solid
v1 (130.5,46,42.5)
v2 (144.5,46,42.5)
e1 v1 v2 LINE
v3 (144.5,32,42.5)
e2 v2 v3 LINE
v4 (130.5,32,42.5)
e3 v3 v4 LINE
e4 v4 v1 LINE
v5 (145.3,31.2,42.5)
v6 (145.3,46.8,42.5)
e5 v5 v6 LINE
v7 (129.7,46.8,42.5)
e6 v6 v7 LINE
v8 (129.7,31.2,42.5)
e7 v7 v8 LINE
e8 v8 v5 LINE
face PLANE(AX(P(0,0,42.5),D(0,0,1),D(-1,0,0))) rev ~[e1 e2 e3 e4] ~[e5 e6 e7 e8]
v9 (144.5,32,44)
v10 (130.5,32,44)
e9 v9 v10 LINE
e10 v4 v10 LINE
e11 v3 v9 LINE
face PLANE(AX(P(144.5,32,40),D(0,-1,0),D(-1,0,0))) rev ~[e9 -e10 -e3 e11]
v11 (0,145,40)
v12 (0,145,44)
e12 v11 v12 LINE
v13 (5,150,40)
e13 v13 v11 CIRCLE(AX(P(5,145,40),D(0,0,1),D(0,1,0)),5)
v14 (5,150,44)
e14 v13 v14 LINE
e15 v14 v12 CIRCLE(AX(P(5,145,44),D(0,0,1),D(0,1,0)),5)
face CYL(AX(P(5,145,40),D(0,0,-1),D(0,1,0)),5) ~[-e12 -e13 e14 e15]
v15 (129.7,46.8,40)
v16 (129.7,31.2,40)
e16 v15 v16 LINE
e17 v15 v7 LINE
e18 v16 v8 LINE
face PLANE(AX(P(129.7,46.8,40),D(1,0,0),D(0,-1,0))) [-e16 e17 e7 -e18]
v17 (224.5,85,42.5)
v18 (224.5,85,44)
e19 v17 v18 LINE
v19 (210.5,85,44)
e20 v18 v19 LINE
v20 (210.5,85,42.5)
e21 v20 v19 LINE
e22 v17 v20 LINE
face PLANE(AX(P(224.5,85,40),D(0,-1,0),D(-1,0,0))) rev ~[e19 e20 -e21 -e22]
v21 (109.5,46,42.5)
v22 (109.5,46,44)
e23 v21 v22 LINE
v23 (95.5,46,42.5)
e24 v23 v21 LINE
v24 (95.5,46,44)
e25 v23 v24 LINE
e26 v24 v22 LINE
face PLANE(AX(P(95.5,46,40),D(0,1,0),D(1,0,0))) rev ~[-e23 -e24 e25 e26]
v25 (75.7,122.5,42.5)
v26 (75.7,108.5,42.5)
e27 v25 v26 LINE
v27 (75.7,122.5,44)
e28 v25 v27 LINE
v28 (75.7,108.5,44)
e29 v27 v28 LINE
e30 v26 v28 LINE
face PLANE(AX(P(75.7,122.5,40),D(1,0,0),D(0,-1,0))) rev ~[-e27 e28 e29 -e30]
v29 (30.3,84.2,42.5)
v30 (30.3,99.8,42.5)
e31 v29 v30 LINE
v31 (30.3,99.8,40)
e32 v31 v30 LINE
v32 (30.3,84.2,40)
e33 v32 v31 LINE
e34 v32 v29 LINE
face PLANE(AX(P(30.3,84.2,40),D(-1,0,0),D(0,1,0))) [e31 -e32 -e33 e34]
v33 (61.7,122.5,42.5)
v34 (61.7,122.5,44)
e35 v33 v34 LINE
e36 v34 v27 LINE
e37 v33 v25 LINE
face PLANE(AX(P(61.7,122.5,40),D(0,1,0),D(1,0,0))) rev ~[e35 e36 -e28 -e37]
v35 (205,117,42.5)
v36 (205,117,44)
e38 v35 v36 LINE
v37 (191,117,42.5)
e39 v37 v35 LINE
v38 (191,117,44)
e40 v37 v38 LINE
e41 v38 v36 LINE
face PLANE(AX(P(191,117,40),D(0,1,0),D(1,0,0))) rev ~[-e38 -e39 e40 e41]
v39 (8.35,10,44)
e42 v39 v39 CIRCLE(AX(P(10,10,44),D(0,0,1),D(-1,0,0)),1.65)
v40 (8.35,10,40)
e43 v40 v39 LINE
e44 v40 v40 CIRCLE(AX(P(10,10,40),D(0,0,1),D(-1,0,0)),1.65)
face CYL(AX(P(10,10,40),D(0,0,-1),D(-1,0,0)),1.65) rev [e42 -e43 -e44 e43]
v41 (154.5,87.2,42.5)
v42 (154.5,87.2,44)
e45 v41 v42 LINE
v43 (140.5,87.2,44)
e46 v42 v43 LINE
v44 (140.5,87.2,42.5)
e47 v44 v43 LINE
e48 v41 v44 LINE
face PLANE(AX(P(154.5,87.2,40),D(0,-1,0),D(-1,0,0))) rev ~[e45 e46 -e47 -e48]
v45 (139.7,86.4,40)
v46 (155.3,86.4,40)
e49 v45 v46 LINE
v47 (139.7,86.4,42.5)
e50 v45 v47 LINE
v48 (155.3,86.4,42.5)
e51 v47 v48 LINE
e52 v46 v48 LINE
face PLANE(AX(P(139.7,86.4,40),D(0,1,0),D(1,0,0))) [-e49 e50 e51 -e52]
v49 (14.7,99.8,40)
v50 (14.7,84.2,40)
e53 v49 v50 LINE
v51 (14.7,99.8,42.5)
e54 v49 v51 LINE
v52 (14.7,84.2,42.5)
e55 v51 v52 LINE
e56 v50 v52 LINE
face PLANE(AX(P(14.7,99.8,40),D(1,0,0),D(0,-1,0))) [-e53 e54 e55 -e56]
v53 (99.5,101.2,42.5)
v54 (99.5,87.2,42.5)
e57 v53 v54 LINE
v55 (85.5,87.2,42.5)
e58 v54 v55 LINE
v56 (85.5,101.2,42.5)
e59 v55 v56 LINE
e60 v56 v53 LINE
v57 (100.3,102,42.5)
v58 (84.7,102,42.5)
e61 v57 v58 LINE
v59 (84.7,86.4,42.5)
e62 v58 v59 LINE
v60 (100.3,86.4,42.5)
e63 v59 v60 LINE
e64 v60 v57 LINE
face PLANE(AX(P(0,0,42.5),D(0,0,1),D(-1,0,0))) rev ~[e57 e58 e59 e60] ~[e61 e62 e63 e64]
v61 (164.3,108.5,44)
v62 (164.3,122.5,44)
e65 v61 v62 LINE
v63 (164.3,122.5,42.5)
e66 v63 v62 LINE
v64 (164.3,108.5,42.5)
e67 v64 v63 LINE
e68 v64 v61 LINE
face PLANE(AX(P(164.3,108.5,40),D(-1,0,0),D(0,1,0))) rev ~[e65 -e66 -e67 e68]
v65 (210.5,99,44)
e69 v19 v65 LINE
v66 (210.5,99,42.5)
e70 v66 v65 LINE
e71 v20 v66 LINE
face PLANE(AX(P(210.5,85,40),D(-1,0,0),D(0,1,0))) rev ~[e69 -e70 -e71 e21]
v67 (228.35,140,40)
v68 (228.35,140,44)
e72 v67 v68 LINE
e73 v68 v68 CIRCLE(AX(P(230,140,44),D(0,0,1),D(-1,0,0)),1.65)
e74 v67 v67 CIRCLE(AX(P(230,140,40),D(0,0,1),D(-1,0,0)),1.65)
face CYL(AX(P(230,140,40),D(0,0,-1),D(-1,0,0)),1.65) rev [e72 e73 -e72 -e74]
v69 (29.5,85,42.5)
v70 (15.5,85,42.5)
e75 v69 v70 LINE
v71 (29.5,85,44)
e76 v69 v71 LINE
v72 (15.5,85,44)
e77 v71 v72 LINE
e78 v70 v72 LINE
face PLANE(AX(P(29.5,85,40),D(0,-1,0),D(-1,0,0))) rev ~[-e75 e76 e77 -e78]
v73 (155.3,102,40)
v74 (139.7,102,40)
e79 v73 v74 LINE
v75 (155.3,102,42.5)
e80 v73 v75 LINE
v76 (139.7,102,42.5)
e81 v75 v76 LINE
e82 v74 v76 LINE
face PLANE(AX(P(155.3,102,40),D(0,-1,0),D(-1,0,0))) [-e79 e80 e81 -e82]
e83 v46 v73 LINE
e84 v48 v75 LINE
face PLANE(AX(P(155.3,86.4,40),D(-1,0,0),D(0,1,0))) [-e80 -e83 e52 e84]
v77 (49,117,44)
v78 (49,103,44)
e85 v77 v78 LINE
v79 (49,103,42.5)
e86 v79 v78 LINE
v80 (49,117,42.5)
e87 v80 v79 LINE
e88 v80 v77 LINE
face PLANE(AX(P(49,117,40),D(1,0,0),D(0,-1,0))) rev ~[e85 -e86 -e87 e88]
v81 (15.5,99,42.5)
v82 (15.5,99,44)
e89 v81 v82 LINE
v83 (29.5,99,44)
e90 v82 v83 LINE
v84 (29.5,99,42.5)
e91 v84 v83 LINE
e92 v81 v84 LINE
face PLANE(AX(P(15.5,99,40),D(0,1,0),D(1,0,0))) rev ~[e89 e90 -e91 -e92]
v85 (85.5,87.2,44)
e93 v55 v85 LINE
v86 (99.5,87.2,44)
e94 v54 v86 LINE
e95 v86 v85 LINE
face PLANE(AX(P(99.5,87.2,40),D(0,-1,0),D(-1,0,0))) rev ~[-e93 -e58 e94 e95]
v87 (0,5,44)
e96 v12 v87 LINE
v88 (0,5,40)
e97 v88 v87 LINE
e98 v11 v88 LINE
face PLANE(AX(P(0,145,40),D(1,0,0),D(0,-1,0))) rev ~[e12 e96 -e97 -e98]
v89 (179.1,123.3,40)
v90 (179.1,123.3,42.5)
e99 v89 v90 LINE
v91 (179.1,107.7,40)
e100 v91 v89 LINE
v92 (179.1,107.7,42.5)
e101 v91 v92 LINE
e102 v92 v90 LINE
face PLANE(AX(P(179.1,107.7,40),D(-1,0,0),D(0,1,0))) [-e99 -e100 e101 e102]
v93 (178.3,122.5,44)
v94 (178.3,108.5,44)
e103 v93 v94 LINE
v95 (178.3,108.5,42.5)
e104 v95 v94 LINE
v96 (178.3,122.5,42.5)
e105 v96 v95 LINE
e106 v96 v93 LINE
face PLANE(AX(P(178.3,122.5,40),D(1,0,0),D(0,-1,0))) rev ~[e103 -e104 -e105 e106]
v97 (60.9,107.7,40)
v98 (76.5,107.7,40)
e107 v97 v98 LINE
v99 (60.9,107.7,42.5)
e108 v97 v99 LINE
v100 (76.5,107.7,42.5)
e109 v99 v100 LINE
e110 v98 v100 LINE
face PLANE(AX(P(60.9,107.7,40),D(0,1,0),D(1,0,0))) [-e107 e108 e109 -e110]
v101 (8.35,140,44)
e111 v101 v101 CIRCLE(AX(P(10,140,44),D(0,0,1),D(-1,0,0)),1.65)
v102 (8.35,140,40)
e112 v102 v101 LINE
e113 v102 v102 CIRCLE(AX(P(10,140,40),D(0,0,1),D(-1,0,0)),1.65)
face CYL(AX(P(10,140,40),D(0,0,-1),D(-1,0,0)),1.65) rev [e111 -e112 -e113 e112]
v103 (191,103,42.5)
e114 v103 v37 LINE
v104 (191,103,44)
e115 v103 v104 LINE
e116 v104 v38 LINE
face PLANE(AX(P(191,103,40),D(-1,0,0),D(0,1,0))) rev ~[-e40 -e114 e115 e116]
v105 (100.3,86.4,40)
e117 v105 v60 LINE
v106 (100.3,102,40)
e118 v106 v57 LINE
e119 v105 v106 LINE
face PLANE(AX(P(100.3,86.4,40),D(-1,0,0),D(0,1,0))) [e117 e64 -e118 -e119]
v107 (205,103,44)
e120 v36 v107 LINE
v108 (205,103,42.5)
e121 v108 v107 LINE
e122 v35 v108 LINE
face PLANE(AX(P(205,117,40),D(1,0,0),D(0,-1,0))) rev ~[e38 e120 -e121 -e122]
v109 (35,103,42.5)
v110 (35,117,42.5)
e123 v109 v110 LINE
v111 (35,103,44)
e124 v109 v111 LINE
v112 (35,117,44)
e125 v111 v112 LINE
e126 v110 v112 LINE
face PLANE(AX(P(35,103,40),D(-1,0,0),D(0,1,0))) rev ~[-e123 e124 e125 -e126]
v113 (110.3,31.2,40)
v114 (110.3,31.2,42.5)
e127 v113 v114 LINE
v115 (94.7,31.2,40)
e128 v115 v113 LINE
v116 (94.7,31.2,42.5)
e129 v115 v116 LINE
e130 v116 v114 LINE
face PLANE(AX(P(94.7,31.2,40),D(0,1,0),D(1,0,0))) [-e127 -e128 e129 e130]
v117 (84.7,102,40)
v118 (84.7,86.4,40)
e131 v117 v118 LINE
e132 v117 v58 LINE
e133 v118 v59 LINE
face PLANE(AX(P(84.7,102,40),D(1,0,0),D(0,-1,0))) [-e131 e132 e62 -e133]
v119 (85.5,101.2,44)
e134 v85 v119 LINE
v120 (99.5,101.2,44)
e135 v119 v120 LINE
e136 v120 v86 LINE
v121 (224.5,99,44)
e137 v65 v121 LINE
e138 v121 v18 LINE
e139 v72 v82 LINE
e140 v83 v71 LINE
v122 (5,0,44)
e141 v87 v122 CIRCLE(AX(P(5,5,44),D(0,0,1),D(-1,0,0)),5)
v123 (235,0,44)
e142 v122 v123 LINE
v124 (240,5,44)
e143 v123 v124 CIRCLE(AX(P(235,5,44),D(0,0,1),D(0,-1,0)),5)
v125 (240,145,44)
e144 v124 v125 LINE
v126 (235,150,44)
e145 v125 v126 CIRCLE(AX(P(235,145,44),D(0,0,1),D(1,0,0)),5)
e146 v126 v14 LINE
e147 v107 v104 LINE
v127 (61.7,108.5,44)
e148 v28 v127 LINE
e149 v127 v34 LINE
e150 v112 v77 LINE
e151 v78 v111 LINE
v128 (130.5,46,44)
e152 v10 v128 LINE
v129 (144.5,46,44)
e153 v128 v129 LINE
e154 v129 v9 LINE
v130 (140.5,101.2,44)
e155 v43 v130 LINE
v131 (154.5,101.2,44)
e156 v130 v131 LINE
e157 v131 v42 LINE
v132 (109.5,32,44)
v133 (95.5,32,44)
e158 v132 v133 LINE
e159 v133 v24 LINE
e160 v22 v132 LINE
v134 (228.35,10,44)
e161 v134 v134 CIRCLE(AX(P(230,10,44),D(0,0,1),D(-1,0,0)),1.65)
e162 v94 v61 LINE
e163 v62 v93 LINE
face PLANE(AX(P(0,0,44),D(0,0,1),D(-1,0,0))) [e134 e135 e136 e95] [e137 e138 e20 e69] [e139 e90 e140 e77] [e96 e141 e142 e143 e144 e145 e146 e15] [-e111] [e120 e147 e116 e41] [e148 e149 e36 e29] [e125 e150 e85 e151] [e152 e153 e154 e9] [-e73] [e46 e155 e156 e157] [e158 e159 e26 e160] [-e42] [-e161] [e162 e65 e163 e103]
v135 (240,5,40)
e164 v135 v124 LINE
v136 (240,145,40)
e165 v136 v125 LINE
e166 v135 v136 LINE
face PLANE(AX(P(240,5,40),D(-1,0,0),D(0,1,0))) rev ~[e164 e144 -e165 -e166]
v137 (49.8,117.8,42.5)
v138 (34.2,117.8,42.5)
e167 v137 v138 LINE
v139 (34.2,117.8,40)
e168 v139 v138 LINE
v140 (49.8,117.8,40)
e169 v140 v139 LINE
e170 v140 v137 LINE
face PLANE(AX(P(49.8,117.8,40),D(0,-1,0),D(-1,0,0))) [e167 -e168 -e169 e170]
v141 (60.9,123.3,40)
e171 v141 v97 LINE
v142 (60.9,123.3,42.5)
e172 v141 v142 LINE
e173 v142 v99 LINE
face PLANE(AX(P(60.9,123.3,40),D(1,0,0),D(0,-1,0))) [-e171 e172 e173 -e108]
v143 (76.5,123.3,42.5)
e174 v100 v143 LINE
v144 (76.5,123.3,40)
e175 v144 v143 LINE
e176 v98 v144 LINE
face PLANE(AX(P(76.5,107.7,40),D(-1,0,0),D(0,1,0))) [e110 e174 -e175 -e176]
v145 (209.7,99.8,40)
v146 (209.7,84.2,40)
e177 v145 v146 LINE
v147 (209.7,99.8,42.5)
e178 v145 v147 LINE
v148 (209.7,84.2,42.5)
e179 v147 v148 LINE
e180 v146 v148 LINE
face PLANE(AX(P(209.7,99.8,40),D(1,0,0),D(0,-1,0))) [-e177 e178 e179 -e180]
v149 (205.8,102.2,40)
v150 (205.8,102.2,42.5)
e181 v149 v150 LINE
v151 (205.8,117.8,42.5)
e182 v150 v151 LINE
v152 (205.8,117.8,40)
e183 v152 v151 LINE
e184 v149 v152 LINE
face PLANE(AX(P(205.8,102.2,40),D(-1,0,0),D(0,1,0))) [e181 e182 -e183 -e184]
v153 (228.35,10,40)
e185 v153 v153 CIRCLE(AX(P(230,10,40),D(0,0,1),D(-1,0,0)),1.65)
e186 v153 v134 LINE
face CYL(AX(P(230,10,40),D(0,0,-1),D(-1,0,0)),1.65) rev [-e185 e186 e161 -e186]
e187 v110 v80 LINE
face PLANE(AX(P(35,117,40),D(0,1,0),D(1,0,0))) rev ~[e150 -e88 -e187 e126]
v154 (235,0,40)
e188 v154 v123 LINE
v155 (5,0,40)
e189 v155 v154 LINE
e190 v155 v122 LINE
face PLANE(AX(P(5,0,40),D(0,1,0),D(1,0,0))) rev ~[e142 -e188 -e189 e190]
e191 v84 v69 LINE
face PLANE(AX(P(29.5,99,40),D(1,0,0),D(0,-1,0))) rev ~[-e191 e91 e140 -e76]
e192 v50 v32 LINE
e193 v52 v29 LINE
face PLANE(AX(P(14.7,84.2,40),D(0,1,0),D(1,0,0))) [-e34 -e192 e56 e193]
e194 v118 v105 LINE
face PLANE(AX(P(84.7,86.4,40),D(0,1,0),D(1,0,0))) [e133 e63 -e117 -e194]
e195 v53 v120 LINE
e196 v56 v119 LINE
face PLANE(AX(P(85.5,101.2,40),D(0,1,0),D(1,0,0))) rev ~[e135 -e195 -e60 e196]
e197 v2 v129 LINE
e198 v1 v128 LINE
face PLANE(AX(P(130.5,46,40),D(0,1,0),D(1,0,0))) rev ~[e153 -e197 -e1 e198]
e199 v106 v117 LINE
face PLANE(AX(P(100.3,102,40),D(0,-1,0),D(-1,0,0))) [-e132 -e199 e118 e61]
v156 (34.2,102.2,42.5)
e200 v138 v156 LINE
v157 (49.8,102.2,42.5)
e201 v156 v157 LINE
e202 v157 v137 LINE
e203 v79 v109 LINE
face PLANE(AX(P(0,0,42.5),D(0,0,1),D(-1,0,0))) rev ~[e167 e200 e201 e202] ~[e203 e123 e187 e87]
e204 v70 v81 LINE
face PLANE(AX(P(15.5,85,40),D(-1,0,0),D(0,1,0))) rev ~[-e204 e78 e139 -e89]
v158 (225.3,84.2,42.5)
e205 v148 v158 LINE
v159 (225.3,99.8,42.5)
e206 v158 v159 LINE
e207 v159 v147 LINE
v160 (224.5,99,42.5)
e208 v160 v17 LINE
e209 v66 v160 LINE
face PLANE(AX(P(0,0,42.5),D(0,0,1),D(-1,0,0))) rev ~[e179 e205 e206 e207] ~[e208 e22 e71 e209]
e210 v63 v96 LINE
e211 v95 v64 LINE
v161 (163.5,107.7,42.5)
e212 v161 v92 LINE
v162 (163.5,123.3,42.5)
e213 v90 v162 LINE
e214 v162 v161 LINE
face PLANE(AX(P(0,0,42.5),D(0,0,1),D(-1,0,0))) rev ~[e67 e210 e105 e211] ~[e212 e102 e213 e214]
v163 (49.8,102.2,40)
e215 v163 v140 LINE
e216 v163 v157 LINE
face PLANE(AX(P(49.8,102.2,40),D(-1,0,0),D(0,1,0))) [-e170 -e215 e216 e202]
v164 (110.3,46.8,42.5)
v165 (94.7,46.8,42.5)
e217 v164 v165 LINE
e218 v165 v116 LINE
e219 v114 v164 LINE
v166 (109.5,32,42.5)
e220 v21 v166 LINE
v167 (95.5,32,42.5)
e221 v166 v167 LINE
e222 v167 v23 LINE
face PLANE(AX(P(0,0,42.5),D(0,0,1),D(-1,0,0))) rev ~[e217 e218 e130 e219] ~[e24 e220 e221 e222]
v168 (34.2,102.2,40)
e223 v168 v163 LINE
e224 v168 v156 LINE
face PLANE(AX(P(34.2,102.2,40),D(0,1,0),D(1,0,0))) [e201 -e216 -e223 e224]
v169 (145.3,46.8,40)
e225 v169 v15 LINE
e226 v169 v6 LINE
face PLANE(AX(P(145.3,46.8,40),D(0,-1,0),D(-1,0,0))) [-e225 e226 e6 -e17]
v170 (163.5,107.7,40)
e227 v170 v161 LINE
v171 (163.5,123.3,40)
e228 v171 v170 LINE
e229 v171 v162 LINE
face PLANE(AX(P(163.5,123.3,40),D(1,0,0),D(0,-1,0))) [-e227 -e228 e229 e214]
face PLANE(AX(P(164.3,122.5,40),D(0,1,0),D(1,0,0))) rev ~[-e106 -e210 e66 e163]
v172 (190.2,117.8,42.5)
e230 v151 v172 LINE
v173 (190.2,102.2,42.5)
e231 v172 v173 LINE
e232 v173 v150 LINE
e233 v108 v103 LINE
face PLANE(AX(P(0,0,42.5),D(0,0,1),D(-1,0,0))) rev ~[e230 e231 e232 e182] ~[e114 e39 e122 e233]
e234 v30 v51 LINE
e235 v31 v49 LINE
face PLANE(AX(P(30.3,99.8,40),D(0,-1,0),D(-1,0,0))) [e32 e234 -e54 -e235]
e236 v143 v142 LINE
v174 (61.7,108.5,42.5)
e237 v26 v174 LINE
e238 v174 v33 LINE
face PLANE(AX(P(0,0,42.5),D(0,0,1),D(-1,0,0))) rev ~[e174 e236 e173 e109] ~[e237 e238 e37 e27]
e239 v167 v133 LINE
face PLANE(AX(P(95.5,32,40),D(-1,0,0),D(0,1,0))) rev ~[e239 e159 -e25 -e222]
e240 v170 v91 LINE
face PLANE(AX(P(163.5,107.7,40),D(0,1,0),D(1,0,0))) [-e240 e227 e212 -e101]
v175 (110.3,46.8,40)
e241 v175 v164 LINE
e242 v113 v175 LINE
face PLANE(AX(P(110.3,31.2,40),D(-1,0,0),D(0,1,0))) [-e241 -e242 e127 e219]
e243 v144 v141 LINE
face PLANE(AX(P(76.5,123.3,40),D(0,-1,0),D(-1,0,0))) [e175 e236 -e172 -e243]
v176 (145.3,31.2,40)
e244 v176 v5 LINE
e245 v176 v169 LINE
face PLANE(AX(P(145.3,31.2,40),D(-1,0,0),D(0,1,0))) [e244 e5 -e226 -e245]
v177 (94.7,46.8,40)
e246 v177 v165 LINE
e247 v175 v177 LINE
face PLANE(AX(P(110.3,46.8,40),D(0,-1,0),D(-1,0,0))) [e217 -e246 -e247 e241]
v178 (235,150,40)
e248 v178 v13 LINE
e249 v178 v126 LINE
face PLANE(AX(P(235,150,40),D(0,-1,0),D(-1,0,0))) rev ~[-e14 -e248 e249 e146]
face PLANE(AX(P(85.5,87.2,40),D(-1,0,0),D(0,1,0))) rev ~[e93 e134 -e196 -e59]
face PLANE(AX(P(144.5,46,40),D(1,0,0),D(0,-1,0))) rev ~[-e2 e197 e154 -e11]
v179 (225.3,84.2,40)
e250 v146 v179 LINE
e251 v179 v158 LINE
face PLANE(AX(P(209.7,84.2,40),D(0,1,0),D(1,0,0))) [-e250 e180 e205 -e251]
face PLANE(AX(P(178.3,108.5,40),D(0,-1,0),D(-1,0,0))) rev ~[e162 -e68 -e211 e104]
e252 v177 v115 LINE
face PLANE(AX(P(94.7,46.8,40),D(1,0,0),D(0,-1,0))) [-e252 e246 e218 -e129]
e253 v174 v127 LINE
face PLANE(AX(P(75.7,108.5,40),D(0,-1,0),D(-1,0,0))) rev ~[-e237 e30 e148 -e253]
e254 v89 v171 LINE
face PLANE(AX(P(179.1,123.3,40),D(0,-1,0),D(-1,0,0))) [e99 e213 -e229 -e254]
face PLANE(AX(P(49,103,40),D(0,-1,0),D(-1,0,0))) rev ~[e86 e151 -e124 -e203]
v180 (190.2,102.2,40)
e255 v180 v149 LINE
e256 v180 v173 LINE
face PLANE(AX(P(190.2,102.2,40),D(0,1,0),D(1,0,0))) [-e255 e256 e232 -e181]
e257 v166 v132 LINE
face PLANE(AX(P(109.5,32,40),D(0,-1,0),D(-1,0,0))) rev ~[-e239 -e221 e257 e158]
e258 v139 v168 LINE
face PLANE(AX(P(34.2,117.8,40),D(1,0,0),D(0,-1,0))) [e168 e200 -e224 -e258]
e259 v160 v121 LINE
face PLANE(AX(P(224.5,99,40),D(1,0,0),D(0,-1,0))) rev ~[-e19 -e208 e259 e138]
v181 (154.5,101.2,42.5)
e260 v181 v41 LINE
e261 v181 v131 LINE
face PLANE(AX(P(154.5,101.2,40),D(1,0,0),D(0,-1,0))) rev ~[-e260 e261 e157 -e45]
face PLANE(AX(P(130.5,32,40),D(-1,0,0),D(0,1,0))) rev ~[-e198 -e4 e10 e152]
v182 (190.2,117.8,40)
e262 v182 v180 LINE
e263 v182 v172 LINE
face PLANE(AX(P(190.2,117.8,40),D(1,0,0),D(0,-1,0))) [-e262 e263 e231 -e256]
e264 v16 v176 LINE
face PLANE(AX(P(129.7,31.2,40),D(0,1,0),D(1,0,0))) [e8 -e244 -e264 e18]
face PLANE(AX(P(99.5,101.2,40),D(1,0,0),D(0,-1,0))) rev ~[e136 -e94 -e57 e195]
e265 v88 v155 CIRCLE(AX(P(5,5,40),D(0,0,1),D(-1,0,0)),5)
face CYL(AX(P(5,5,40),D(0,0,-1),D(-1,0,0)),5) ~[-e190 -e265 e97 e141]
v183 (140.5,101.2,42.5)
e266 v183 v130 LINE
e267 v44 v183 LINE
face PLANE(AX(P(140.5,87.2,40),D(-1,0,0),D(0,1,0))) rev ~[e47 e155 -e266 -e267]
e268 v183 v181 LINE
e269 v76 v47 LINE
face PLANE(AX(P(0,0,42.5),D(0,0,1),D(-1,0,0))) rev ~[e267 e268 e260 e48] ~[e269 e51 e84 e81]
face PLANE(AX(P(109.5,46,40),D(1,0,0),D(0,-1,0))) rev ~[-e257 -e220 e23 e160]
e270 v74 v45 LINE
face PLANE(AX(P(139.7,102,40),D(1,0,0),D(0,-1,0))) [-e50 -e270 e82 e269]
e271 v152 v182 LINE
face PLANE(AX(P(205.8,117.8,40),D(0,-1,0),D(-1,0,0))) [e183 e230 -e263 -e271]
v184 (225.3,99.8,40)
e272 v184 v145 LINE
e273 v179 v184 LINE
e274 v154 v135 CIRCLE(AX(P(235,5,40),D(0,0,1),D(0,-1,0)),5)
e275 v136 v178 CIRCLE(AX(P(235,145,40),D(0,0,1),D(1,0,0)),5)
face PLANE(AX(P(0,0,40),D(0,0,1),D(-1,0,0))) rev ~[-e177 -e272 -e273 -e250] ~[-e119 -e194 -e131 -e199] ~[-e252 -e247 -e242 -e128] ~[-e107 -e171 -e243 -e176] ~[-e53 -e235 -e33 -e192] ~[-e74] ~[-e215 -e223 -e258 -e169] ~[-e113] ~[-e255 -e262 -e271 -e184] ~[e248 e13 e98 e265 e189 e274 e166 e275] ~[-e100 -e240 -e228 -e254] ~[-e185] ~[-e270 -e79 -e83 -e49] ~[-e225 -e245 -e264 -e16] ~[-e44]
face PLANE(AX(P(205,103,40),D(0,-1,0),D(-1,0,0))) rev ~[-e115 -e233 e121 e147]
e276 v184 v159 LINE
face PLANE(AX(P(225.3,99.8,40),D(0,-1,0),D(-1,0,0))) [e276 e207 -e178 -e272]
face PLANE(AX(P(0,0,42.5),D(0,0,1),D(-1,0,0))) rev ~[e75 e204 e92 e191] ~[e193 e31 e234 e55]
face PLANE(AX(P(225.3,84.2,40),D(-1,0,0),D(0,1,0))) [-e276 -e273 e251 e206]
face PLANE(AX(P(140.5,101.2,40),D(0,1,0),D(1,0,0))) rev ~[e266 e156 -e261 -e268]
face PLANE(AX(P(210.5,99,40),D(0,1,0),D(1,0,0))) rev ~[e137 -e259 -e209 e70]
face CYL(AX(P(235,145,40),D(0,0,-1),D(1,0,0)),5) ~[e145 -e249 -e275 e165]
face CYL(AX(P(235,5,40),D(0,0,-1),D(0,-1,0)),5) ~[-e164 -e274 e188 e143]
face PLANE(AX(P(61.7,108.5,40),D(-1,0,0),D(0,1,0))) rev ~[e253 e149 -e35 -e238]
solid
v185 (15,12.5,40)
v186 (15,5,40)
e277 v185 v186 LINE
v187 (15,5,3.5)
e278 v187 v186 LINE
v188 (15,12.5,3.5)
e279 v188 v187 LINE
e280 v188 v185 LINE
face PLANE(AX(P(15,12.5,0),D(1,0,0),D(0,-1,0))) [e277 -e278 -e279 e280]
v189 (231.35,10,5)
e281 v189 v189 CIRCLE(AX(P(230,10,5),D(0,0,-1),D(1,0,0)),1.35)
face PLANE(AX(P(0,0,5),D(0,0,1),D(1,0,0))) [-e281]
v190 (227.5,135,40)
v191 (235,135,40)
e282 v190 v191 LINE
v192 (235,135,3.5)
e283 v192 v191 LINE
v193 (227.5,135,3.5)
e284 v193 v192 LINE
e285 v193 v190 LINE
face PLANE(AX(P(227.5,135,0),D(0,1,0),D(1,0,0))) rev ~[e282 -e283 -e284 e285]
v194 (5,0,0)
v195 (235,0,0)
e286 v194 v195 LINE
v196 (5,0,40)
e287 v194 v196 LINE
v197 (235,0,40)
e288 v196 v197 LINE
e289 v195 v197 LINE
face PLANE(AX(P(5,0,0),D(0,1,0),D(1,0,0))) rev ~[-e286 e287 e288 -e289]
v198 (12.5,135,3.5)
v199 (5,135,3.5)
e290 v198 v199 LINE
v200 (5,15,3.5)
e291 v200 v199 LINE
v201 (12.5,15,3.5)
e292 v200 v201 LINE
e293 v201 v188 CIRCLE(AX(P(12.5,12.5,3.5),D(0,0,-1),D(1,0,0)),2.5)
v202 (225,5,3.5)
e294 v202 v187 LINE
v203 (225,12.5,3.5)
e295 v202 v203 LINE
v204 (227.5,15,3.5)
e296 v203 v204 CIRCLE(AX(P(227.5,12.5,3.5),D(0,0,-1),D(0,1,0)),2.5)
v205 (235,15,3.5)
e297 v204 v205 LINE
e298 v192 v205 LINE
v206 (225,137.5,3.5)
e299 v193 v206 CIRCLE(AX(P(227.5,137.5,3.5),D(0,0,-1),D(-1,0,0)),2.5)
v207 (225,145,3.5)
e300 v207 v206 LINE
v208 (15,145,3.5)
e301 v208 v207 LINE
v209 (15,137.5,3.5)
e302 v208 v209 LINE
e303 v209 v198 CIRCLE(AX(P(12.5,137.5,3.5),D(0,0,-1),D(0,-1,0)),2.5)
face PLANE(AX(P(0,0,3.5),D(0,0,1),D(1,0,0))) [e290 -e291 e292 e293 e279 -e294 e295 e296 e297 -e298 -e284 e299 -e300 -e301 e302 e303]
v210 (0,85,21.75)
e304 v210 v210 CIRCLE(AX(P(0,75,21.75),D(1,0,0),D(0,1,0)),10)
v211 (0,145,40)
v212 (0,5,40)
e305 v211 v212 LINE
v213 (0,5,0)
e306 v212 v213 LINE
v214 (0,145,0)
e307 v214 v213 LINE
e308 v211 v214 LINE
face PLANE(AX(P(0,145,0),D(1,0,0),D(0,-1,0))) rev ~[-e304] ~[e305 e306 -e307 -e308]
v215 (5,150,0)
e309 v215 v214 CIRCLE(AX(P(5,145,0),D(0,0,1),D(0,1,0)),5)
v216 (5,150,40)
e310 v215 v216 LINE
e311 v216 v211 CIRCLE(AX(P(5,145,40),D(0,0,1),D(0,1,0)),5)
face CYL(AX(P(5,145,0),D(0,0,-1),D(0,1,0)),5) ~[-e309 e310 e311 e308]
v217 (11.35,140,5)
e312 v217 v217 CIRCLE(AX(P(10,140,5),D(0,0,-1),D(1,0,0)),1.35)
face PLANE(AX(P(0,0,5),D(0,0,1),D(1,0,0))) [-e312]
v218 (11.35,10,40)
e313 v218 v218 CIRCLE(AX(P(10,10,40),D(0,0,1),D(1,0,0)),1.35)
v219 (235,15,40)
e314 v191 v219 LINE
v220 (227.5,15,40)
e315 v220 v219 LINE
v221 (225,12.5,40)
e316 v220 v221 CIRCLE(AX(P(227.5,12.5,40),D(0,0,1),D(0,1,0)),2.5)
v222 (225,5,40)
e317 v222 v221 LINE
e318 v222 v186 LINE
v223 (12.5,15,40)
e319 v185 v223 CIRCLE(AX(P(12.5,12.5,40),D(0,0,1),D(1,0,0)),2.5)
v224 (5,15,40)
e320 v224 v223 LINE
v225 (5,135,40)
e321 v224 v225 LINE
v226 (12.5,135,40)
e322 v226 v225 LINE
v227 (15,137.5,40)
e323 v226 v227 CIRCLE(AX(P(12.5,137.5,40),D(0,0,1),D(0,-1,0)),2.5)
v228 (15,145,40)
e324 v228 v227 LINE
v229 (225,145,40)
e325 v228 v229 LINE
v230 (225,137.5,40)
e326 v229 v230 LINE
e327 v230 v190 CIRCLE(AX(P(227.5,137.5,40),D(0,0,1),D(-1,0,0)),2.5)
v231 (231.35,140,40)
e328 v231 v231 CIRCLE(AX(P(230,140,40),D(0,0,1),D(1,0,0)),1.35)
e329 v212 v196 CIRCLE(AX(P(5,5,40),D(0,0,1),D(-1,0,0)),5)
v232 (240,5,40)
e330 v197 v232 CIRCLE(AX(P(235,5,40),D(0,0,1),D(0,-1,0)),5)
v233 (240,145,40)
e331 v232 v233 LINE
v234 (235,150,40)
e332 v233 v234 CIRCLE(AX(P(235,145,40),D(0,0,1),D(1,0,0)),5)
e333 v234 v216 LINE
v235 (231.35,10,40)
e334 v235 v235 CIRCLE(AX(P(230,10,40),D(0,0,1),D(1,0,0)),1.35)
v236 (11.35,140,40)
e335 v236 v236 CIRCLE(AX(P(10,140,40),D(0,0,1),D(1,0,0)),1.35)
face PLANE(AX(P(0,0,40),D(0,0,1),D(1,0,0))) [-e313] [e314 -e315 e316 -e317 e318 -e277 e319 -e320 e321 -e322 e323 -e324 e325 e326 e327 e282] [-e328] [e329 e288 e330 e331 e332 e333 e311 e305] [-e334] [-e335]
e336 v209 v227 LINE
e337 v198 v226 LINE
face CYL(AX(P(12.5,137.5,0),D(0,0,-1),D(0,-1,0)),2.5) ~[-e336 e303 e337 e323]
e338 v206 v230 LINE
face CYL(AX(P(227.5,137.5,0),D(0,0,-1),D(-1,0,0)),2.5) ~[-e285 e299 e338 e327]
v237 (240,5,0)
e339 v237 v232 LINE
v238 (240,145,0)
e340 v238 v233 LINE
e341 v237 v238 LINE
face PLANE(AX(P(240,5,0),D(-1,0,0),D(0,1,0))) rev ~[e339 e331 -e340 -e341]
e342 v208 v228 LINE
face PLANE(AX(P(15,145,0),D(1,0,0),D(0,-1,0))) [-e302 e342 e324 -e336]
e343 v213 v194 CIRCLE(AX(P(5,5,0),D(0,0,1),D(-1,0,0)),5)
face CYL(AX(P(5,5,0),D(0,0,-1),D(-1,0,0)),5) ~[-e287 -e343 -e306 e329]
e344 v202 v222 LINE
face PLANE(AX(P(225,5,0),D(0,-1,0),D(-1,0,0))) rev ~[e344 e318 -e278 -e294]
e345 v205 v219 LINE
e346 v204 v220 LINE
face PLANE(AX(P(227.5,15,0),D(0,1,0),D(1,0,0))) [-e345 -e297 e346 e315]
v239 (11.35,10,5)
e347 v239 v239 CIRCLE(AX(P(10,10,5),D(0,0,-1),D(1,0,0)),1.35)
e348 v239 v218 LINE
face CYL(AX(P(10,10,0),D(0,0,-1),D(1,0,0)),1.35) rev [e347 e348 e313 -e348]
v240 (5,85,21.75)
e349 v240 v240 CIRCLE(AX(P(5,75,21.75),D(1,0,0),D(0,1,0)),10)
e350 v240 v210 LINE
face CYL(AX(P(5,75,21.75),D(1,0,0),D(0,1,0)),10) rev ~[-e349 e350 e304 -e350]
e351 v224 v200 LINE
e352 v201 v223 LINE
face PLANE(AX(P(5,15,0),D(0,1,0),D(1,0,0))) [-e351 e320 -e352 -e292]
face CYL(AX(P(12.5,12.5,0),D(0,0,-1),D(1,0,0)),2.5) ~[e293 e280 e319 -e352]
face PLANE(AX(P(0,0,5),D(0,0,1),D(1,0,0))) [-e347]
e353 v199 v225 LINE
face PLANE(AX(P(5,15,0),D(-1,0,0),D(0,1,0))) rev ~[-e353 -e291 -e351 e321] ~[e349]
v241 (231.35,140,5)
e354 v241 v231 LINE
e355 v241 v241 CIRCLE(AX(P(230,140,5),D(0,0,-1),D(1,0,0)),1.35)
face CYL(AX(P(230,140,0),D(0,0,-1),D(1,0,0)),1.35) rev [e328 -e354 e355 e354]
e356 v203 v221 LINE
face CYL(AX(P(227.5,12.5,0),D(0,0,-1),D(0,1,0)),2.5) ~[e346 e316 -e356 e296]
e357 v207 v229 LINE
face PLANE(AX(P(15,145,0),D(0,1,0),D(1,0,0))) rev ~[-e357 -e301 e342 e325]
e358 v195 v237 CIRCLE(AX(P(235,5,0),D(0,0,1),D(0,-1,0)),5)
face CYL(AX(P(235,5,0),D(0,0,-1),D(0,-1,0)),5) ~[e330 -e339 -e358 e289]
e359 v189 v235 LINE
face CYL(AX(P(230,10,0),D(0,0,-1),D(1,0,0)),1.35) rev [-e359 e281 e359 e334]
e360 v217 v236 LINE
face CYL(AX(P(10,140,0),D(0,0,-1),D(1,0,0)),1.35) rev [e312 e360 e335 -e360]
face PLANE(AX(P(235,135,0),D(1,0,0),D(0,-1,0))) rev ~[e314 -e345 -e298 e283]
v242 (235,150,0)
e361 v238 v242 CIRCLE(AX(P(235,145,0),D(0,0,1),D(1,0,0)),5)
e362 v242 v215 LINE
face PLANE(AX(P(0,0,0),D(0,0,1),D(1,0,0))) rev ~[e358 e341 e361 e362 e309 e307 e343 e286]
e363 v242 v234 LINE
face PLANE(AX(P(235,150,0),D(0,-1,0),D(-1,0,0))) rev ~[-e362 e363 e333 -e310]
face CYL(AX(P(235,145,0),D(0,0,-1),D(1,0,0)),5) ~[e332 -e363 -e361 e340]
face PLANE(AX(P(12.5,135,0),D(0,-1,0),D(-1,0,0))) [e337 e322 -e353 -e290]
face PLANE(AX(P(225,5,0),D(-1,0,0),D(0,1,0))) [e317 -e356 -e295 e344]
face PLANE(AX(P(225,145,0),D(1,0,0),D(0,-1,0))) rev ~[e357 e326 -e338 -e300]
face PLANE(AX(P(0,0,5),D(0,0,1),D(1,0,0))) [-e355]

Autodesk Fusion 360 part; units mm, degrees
sketch "bottom structure" plane through (0, 0, 0) normal (0, 0, 1) x (1, 0, 0)
  line L0 (5, 0) -> (235, 0)
  line L1 (240, 5) -> (240, 145)
  line L2 (235, 150) -> (5, 150)
  line L3 (0, 145) -> (0, 5)
  line L4 (10, 145) -> (230, 145)
  line L5 (235, 140) -> (235, 10)
  line L6 (230, 5) -> (10, 5)
  line L7 (5, 10) -> (5, 140)
  arc A0 (5, 150) -> (0, 145) centre (5, 145) ccw
  arc A1 (10, 145) -> (5, 140) centre (10, 140) ccw
  arc A2 (5, 10) -> (10, 5) centre (10, 10) ccw
  arc A3 (0, 5) -> (5, 0) centre (5, 5) ccw
  arc A4 (235, 140) -> (230, 145) centre (230, 140) ccw
  arc A5 (240, 145) -> (235, 150) centre (235, 145) ccw
  arc A6 (230, 5) -> (235, 10) centre (230, 10) ccw
  arc A7 (235, 0) -> (240, 5) centre (235, 5) ccw
  line L8 (15, 145) -> (15, 137.5)
  line L9 (12.5, 135) -> (5, 135)
  line L10 (225, 145) -> (225, 137.5)
  line L11 (227.5, 135) -> (235, 135)
  line L12 (5, 15) -> (12.5, 15)
  line L13 (15, 12.5) -> (15, 5)
  line L14 (225, 5) -> (225, 12.5)
  line L15 (227.5, 15) -> (235, 15)
  circle A8 centre (230, 10) radius 3
  circle A9 centre (230, 140) radius 3
  circle A10 centre (230, 140) radius 1.35
  circle A11 centre (10, 140) radius 1.35
  circle A12 centre (10, 140) radius 3
  circle A13 centre (230, 10) radius 1.35
  circle A14 centre (10, 10) radius 1.35
  circle A15 centre (10, 10) radius 3
  arc A16 (225, 137.5) -> (227.5, 135) centre (227.5, 137.5) ccw
  arc A17 (227.5, 15) -> (225, 12.5) centre (227.5, 12.5) ccw
  arc A18 (15, 12.5) -> (12.5, 15) centre (12.5, 12.5) ccw
  arc A19 (12.5, 135) -> (15, 137.5) centre (12.5, 137.5) ccw
  point P0 (240, 0)
  point P1 (0, 150)
  point P2 (15, 135)
  point P3 (225, 135)
  point P4 (15, 15)
  point P5 (225, 15)
  dimension "d1" = 150
  dimension "d2" = 240
  dimension "d4" = 5
  dimension "d5" = 5
  dimension "d6" = 5
  dimension "d7" = 5
  dimension "d8" = 5
  dimension "d9" = 5
  dimension "d10" = 5
  dimension "d11" = 5
  dimension "d12" = 5
  dimension "d13" = 5
  dimension "d14" = 5
  dimension "d15" = 5
  dimension "d16" = 10
  dimension "d17" = 10
  dimension "d18" = 10
  dimension "d19" = 10
  dimension "d20" = 10
  dimension "d21" = 10
  dimension "d22" = 10
  dimension "d23" = 10
  dimension "d24" = 5
  dimension "d25" = 6
  dimension "d27" = 5
  dimension "d31" = 6
  dimension "d34" = 2.7
  dimension "d35" = 6
  dimension "d36" = 2.7
  dimension "d38" = 2.7
  dimension "d39" = 6
  dimension "d40" = 2.7
  dimension "d41" = 2.5
extrude "Extrude1" add sketch "bottom structure" along normal blind 40 contours L0 L1 L2 L3 A0 A3 A5 A7 | L4 L7 A1 L8 L9 A19 | L4 L5 A4 L10 L11 A16 | L6 L7 A2 L12 L13 A18 | L5 L6 A6 L14 L15 A17 | A8 | A9 | A12 | A15 makes body 1
sketch "bottom itself" plane through (0, 0, 0) normal (0, 0, 1) x (1, 0, 0)
  line L0 (5, 150) -> (235, 150)
  line L1 (240, 145) -> (240, 5)
  line L2 (235, 0) -> (5, 0)
  line L3 (0, 5) -> (0, 145)
  arc A0 (5, 150) -> (0, 145) centre (5, 145) ccw
  arc A1 (0, 5) -> (5, 0) centre (5, 5) ccw
  arc A2 (235, 0) -> (240, 5) centre (235, 5) ccw
  arc A3 (240, 145) -> (235, 150) centre (235, 145) ccw
  dimension "d44" = 5
extrude "Extrude2" add sketch "bottom itself" along normal blind 5 bodies 1
extrude "Extrude3" cut 1 faces at (84.8596, 54.6296, 5) along direction (0, 0, -1) blind 1.5 on bodies 1 bodies 1
copy_body "Body->Comp1" bodies 1 removing the originals makes body 2 in component "top plate"
sketch "plate surface" plane through (0, 0, 40) normal (0, 0, 1) x (-1, 0, 0) in component "top plate"
  circle A0 centre (-10, -10) radius 1.35
  line L0 (-12.5, -15) -> (-5, -15)
  line L1 (-5, -15) -> (-5, -135)
  line L2 (-5, -135) -> (-12.5, -135)
  arc A1 (-12.5, -135) -> (-15, -137.5) centre (-12.5, -137.5) ccw
  line L3 (-15, -137.5) -> (-15, -145)
  line L4 (-15, -145) -> (-225, -145)
  line L5 (-225, -145) -> (-225, -137.5)
  arc A2 (-225, -137.5) -> (-227.5, -135) centre (-227.5, -137.5) ccw
  line L6 (-227.5, -135) -> (-235, -135)
  line L7 (-235, -135) -> (-235, -15)
  line L8 (-235, -15) -> (-227.5, -15)
  arc A3 (-227.5, -15) -> (-225, -12.5) centre (-227.5, -12.5) ccw
  line L9 (-225, -12.5) -> (-225, -5)
  line L10 (-225, -5) -> (-15, -5)
  line L11 (-15, -5) -> (-15, -12.5)
  arc A4 (-15, -12.5) -> (-12.5, -15) centre (-12.5, -12.5) ccw
  circle A5 centre (-10, -140) radius 1.35
  circle A6 centre (-230, -10) radius 1.35
  circle A7 centre (-230, -140) radius 1.35
  arc A8 (-235, 0) -> (-240, -5) centre (-235, -5) ccw
  line L12 (-240, -5) -> (-240, -145)
  arc A9 (-240, -145) -> (-235, -150) centre (-235, -145) ccw
  line L13 (-235, -150) -> (-5, -150)
  arc A10 (-5, -150) -> (0, -145) centre (-5, -145) ccw
  line L14 (0, -145) -> (0, -5)
  arc A11 (0, -5) -> (-5, 0) centre (-5, -5) ccw
  line L15 (-5, 0) -> (-235, 0)
  line L16 (-5, -150) -> (-235, -150)
  line L17 (-240, -145) -> (-240, -5)
  line L18 (-235, 0) -> (-5, 0)
  line L19 (0, -5) -> (0, -145)
  arc A12 (-5, -150) -> (0, -145) centre (-5, -145) ccw
  arc A13 (-240, -145) -> (-235, -150) centre (-235, -145) ccw
  arc A14 (-235, 0) -> (-240, -5) centre (-235, -5) ccw
  arc A15 (0, -5) -> (-5, 0) centre (-5, -5) ccw
  circle A16 centre (-230, -140) radius 1.65
  circle A17 centre (-230, -10) radius 1.65
  circle A18 centre (-10, -10) radius 1.65
  circle A19 centre (-10, -140) radius 1.65
  dimension "d49" = 5
  dimension "d50" = 5
  dimension "d51" = 5
  dimension "d52" = 5
extrude "Extrude1'" add sketch "plate surface" along normal blind 4 separate body contours L0 L1 L2 A1 L3 L4 L5 A2 L6 L7 L8 A3 L9 L10 L11 A4 | A8 L12 A9 L13 A10 L14 A11 L15 L16 L17 L18 L19 A12 A13 A14 A15 makes body 3 in component "plate"
sketch "hole" plane through (0, 0, 40) normal (0, 0, 1) x (-1, 0, 0) in component "top plate"
  circle A0 centre (-10, -10) radius 1.35
  line L0 (-12.5, -15) -> (-5, -15)
  line L1 (-5, -15) -> (-5, -135)
  line L2 (-5, -135) -> (-12.5, -135)
  arc A1 (-12.5, -135) -> (-15, -137.5) centre (-12.5, -137.5) ccw
  line L3 (-15, -137.5) -> (-15, -145)
  line L4 (-15, -145) -> (-225, -145)
  line L5 (-225, -145) -> (-225, -137.5)
  arc A2 (-225, -137.5) -> (-227.5, -135) centre (-227.5, -137.5) ccw
  line L6 (-227.5, -135) -> (-235, -135)
  line L7 (-235, -135) -> (-235, -15)
  line L8 (-235, -15) -> (-227.5, -15)
  arc A3 (-227.5, -15) -> (-225, -12.5) centre (-227.5, -12.5) ccw
  line L9 (-225, -12.5) -> (-225, -5)
  line L10 (-225, -5) -> (-15, -5)
  line L11 (-15, -5) -> (-15, -12.5)
  arc A4 (-15, -12.5) -> (-12.5, -15) centre (-12.5, -12.5) ccw
  circle A5 centre (-10, -140) radius 1.35
  circle A6 centre (-230, -10) radius 1.35
  circle A7 centre (-230, -140) radius 1.35
  arc A8 (-235, 0) -> (-240, -5) centre (-235, -5) ccw
  line L12 (-240, -5) -> (-240, -145)
  arc A9 (-240, -145) -> (-235, -150) centre (-235, -145) ccw
  line L13 (-235, -150) -> (-5, -150)
  arc A10 (-5, -150) -> (0, -145) centre (-5, -145) ccw
  line L14 (0, -145) -> (0, -5)
  arc A11 (0, -5) -> (-5, 0) centre (-5, -5) ccw
  line L15 (-5, 0) -> (-235, 0)
  line L16 (-61.7, -122.5) -> (-75.7, -122.5)
  line L17 (-75.7, -122.5) -> (-75.7, -108.5)
  line L18 (-75.7, -108.5) -> (-61.7, -108.5)
  line L19 (-61.7, -108.5) -> (-61.7, -122.5)
  line L20 (-29.5, -99) -> (-29.5, -85)
  line L21 (-29.5, -85) -> (-15.5, -85)
  line L22 (-15.5, -85) -> (-15.5, -99)
  line L23 (-15.5, -99) -> (-29.5, -99)
  line L24 (-99.5, -101.2) -> (-99.5, -87.2)
  line L25 (-99.5, -87.2) -> (-85.5, -87.2)
  line L26 (-85.5, -87.2) -> (-85.5, -101.2)
  line L27 (-85.5, -101.2) -> (-99.5, -101.2)
  line L28 (-49, -117) -> (-49, -103)
  line L29 (-49, -103) -> (-35, -103)
  line L30 (-35, -103) -> (-35, -117)
  line L31 (-35, -117) -> (-49, -117)
  line L32 (-109.5, -46) -> (-109.5, -32)
  line L33 (-109.5, -32) -> (-95.5, -32)
  line L34 (-95.5, -32) -> (-95.5, -46)
  line L35 (-95.5, -46) -> (-109.5, -46)
  line L36 (-144.5, -46) -> (-144.5, -32)
  line L37 (-144.5, -32) -> (-130.5, -32)
  line L38 (-130.5, -32) -> (-130.5, -46)
  line L39 (-130.5, -46) -> (-144.5, -46)
  line L40 (-154.5, -101.2) -> (-154.5, -87.2)
  line L41 (-154.5, -87.2) -> (-140.5, -87.2)
  line L42 (-140.5, -87.2) -> (-140.5, -101.2)
  line L43 (-140.5, -101.2) -> (-154.5, -101.2)
  line L44 (-178.3, -122.5) -> (-178.3, -108.5)
  line L45 (-178.3, -108.5) -> (-164.3, -108.5)
  line L46 (-164.3, -108.5) -> (-164.3, -122.5)
  line L47 (-164.3, -122.5) -> (-178.3, -122.5)
  line L48 (-205, -117) -> (-205, -103)
  line L49 (-205, -103) -> (-191, -103)
  line L50 (-191, -103) -> (-191, -117)
  line L51 (-191, -117) -> (-205, -117)
  line L52 (-224.5, -99) -> (-224.5, -85)
  line L53 (-224.5, -85) -> (-210.5, -85)
  line L54 (-210.5, -85) -> (-210.5, -99)
  line L55 (-210.5, -99) -> (-224.5, -99)
  dimension "d57" = 14
  dimension "d58" = 14
  dimension "d61" = 14
  dimension "d62" = 14
  dimension "d65" = 14
  dimension "d66" = 14
  dimension "d67" = 14
  dimension "d68" = 14
  dimension "d69" = 14
  dimension "d70" = 14
  dimension "d71" = 14
  dimension "d72" = 14
  dimension "d73" = 14
  dimension "d74" = 14
  dimension "d75" = 14
  dimension "d76" = 14
  dimension "d77" = 14
  dimension "d78" = 14
  dimension "d79" = 14
  dimension "d80" = 14
  dimension "d94" = 10.5
  dimension "d95" = 30
  dimension "d96" = 56.7
  dimension "d97" = 80.5
  dimension "d98" = 90.5
  dimension "d101" = 10.5
  dimension "d102" = 56.7
  dimension "d103" = 30
  dimension "d104" = 80.5
  dimension "d105" = 90.5
  dimension "d106" = 99
  dimension "d107" = 43.8
  dimension "d108" = 22.5
  dimension "d109" = 28
  dimension "d110" = 46
  dimension "d111" = 46
  dimension "d112" = 28
  dimension "d113" = 22.5
  dimension "d114" = 43.8
  dimension "d115" = 99
extrude "Extrude2'" cut sketch "hole" along normal blind 4 contours L16 L17 L18 L19 | L20 L21 L22 L23 | L24 L25 L26 L27 | L28 L29 L30 L31 | L32 L33 L34 L35 | L36 L37 L38 L39 | L40 L41 L42 L43 | L44 L45 L46 L47 | L48 L49 L50 L51 | L52 L53 L54 L55 bodies 3 in component "plate"
sketch "sink" plane through (0, 0, 40) normal (0, 0, 1) x (-1, 0, 0) in component "top plate"
  line L0 (-84.7, -86.4) -> (-100.3, -86.4)
  line L1 (-100.3, -86.4) -> (-100.3, -102)
  line L2 (-100.3, -102) -> (-84.7, -102)
  line L3 (-84.7, -102) -> (-84.7, -86.4)
  line L4 (-85.5, -87.2) -> (-99.5, -87.2)
  line L5 (-99.5, -87.2) -> (-99.5, -101.2)
  line L6 (-76.5, -107.7) -> (-76.5, -123.3)
  line L7 (-76.5, -123.3) -> (-60.9, -123.3)
  line L8 (-60.9, -107.7) -> (-76.5, -107.7)
  line L9 (-61.7, -108.5) -> (-75.7, -108.5)
  line L10 (-75.7, -108.5) -> (-75.7, -122.5)
  line L11 (-60.9, -123.3) -> (-60.9, -107.7)
  line L12 (-49.8, -102.2) -> (-49.8, -117.8)
  line L13 (-49.8, -117.8) -> (-34.2, -117.8)
  line L14 (-34.2, -102.2) -> (-49.8, -102.2)
  line L15 (-35, -103) -> (-49, -103)
  line L16 (-49, -103) -> (-49, -117)
  line L17 (-34.2, -117.8) -> (-34.2, -102.2)
  line L18 (-155.3, -86.4) -> (-155.3, -102)
  line L19 (-155.3, -102) -> (-139.7, -102)
  line L20 (-139.7, -86.4) -> (-155.3, -86.4)
  line L21 (-140.5, -87.2) -> (-154.5, -87.2)
  line L22 (-154.5, -87.2) -> (-154.5, -101.2)
  line L23 (-139.7, -102) -> (-139.7, -86.4)
  line L24 (-179.1, -107.7) -> (-179.1, -123.3)
  line L25 (-179.1, -123.3) -> (-163.5, -123.3)
  line L26 (-163.5, -107.7) -> (-179.1, -107.7)
  line L27 (-164.3, -108.5) -> (-178.3, -108.5)
  line L28 (-178.3, -108.5) -> (-178.3, -122.5)
  line L29 (-163.5, -123.3) -> (-163.5, -107.7)
  line L30 (-110.3, -31.2) -> (-110.3, -46.8)
  line L31 (-110.3, -46.8) -> (-94.7, -46.8)
  line L32 (-94.7, -31.2) -> (-110.3, -31.2)
  line L33 (-95.5, -32) -> (-109.5, -32)
  line L34 (-109.5, -32) -> (-109.5, -46)
  line L35 (-94.7, -46.8) -> (-94.7, -31.2)
  line L36 (-145.3, -31.2) -> (-145.3, -46.8)
  line L37 (-145.3, -46.8) -> (-129.7, -46.8)
  line L38 (-129.7, -31.2) -> (-145.3, -31.2)
  line L39 (-130.5, -32) -> (-144.5, -32)
  line L40 (-144.5, -32) -> (-144.5, -46)
  line L41 (-129.7, -46.8) -> (-129.7, -31.2)
  line L42 (-30.3, -84.2) -> (-30.3, -99.8)
  line L43 (-30.3, -99.8) -> (-14.7, -99.8)
  line L44 (-14.7, -84.2) -> (-30.3, -84.2)
  line L45 (-15.5, -85) -> (-29.5, -85)
  line L46 (-29.5, -85) -> (-29.5, -99)
  line L47 (-14.7, -99.8) -> (-14.7, -84.2)
  line L48 (-190.2, -117.8) -> (-190.2, -102.2)
  line L49 (-191, -103) -> (-205, -103)
  line L50 (-205.8, -117.8) -> (-190.2, -117.8)
  line L51 (-205.8, -102.2) -> (-205.8, -117.8)
  line L52 (-190.2, -102.2) -> (-205.8, -102.2)
  line L53 (-205, -103) -> (-205, -117)
  line L54 (-209.7, -99.8) -> (-209.7, -84.2)
  line L55 (-210.5, -85) -> (-224.5, -85)
  line L56 (-225.3, -99.8) -> (-209.7, -99.8)
  line L57 (-225.3, -84.2) -> (-225.3, -99.8)
  line L58 (-209.7, -84.2) -> (-225.3, -84.2)
  line L59 (-224.5, -85) -> (-224.5, -99)
  dimension "d118" = 15.6
  dimension "d119" = 15.6
  dimension "d120" = 0.8
  dimension "d121" = 0.8
  dimension "d122" = 15.6
  dimension "d123" = 15.6
  dimension "d124" = 0.8
  dimension "d125" = 0.8
  dimension "d126" = 15.6
  dimension "d127" = 15.6
  dimension "d128" = 0.8
  dimension "d129" = 0.8
  dimension "d130" = 15.6
  dimension "d131" = 15.6
  dimension "d132" = 0.8
  dimension "d133" = 0.8
  dimension "d134" = 15.6
  dimension "d135" = 15.6
  dimension "d136" = 0.8
  dimension "d137" = 0.8
  dimension "d138" = 15.6
  dimension "d139" = 15.6
  dimension "d140" = 0.8
  dimension "d141" = 0.8
  dimension "d142" = 15.6
  dimension "d143" = 15.6
  dimension "d144" = 0.8
  dimension "d145" = 0.8
  dimension "d146" = 15.6
  dimension "d147" = 15.6
  dimension "d148" = 0.8
  dimension "d149" = 0.8
  dimension "d150" = 15.6
  dimension "d151" = 15.6
  dimension "d152" = 0.8
  dimension "d153" = 0.8
  dimension "d154" = 15.6
  dimension "d155" = 15.6
  dimension "d156" = 0.8
  dimension "d157" = 0.8
extrude "Extrude3'" cut sketch "sink" along normal blind 2.5 bodies 3 in component "plate"
sketch "side hole" plane through (5, 0, 0) normal (1, 0, 0) x (0, 1, 0)
  line L0 (135, 3.5) -> (135, 40)
  line L1 (135, 40) -> (15, 40)
  line L2 (15, 40) -> (15, 3.5)
  line L3 (15, 3.5) -> (135, 3.5)
  circle A0 centre (75, 21.75) radius 10
  dimension "d160" = 20
  dimension "d161" = 60
  dimension "d162" = 18.25
extrude "Extrude1''" cut sketch "side hole" against normal blind 5 contours A0 bodies 2 in component "top plate"
component "top plate" placed x (1, 0, 0) y (0, 1, 0) z (0, 0, 1) at (0, 0, 0)
component "plate" placed x (1, 0, 0) y (0, 1, 0) z (0, 0, 1) at (0, 0, 0) in component "top plate"
